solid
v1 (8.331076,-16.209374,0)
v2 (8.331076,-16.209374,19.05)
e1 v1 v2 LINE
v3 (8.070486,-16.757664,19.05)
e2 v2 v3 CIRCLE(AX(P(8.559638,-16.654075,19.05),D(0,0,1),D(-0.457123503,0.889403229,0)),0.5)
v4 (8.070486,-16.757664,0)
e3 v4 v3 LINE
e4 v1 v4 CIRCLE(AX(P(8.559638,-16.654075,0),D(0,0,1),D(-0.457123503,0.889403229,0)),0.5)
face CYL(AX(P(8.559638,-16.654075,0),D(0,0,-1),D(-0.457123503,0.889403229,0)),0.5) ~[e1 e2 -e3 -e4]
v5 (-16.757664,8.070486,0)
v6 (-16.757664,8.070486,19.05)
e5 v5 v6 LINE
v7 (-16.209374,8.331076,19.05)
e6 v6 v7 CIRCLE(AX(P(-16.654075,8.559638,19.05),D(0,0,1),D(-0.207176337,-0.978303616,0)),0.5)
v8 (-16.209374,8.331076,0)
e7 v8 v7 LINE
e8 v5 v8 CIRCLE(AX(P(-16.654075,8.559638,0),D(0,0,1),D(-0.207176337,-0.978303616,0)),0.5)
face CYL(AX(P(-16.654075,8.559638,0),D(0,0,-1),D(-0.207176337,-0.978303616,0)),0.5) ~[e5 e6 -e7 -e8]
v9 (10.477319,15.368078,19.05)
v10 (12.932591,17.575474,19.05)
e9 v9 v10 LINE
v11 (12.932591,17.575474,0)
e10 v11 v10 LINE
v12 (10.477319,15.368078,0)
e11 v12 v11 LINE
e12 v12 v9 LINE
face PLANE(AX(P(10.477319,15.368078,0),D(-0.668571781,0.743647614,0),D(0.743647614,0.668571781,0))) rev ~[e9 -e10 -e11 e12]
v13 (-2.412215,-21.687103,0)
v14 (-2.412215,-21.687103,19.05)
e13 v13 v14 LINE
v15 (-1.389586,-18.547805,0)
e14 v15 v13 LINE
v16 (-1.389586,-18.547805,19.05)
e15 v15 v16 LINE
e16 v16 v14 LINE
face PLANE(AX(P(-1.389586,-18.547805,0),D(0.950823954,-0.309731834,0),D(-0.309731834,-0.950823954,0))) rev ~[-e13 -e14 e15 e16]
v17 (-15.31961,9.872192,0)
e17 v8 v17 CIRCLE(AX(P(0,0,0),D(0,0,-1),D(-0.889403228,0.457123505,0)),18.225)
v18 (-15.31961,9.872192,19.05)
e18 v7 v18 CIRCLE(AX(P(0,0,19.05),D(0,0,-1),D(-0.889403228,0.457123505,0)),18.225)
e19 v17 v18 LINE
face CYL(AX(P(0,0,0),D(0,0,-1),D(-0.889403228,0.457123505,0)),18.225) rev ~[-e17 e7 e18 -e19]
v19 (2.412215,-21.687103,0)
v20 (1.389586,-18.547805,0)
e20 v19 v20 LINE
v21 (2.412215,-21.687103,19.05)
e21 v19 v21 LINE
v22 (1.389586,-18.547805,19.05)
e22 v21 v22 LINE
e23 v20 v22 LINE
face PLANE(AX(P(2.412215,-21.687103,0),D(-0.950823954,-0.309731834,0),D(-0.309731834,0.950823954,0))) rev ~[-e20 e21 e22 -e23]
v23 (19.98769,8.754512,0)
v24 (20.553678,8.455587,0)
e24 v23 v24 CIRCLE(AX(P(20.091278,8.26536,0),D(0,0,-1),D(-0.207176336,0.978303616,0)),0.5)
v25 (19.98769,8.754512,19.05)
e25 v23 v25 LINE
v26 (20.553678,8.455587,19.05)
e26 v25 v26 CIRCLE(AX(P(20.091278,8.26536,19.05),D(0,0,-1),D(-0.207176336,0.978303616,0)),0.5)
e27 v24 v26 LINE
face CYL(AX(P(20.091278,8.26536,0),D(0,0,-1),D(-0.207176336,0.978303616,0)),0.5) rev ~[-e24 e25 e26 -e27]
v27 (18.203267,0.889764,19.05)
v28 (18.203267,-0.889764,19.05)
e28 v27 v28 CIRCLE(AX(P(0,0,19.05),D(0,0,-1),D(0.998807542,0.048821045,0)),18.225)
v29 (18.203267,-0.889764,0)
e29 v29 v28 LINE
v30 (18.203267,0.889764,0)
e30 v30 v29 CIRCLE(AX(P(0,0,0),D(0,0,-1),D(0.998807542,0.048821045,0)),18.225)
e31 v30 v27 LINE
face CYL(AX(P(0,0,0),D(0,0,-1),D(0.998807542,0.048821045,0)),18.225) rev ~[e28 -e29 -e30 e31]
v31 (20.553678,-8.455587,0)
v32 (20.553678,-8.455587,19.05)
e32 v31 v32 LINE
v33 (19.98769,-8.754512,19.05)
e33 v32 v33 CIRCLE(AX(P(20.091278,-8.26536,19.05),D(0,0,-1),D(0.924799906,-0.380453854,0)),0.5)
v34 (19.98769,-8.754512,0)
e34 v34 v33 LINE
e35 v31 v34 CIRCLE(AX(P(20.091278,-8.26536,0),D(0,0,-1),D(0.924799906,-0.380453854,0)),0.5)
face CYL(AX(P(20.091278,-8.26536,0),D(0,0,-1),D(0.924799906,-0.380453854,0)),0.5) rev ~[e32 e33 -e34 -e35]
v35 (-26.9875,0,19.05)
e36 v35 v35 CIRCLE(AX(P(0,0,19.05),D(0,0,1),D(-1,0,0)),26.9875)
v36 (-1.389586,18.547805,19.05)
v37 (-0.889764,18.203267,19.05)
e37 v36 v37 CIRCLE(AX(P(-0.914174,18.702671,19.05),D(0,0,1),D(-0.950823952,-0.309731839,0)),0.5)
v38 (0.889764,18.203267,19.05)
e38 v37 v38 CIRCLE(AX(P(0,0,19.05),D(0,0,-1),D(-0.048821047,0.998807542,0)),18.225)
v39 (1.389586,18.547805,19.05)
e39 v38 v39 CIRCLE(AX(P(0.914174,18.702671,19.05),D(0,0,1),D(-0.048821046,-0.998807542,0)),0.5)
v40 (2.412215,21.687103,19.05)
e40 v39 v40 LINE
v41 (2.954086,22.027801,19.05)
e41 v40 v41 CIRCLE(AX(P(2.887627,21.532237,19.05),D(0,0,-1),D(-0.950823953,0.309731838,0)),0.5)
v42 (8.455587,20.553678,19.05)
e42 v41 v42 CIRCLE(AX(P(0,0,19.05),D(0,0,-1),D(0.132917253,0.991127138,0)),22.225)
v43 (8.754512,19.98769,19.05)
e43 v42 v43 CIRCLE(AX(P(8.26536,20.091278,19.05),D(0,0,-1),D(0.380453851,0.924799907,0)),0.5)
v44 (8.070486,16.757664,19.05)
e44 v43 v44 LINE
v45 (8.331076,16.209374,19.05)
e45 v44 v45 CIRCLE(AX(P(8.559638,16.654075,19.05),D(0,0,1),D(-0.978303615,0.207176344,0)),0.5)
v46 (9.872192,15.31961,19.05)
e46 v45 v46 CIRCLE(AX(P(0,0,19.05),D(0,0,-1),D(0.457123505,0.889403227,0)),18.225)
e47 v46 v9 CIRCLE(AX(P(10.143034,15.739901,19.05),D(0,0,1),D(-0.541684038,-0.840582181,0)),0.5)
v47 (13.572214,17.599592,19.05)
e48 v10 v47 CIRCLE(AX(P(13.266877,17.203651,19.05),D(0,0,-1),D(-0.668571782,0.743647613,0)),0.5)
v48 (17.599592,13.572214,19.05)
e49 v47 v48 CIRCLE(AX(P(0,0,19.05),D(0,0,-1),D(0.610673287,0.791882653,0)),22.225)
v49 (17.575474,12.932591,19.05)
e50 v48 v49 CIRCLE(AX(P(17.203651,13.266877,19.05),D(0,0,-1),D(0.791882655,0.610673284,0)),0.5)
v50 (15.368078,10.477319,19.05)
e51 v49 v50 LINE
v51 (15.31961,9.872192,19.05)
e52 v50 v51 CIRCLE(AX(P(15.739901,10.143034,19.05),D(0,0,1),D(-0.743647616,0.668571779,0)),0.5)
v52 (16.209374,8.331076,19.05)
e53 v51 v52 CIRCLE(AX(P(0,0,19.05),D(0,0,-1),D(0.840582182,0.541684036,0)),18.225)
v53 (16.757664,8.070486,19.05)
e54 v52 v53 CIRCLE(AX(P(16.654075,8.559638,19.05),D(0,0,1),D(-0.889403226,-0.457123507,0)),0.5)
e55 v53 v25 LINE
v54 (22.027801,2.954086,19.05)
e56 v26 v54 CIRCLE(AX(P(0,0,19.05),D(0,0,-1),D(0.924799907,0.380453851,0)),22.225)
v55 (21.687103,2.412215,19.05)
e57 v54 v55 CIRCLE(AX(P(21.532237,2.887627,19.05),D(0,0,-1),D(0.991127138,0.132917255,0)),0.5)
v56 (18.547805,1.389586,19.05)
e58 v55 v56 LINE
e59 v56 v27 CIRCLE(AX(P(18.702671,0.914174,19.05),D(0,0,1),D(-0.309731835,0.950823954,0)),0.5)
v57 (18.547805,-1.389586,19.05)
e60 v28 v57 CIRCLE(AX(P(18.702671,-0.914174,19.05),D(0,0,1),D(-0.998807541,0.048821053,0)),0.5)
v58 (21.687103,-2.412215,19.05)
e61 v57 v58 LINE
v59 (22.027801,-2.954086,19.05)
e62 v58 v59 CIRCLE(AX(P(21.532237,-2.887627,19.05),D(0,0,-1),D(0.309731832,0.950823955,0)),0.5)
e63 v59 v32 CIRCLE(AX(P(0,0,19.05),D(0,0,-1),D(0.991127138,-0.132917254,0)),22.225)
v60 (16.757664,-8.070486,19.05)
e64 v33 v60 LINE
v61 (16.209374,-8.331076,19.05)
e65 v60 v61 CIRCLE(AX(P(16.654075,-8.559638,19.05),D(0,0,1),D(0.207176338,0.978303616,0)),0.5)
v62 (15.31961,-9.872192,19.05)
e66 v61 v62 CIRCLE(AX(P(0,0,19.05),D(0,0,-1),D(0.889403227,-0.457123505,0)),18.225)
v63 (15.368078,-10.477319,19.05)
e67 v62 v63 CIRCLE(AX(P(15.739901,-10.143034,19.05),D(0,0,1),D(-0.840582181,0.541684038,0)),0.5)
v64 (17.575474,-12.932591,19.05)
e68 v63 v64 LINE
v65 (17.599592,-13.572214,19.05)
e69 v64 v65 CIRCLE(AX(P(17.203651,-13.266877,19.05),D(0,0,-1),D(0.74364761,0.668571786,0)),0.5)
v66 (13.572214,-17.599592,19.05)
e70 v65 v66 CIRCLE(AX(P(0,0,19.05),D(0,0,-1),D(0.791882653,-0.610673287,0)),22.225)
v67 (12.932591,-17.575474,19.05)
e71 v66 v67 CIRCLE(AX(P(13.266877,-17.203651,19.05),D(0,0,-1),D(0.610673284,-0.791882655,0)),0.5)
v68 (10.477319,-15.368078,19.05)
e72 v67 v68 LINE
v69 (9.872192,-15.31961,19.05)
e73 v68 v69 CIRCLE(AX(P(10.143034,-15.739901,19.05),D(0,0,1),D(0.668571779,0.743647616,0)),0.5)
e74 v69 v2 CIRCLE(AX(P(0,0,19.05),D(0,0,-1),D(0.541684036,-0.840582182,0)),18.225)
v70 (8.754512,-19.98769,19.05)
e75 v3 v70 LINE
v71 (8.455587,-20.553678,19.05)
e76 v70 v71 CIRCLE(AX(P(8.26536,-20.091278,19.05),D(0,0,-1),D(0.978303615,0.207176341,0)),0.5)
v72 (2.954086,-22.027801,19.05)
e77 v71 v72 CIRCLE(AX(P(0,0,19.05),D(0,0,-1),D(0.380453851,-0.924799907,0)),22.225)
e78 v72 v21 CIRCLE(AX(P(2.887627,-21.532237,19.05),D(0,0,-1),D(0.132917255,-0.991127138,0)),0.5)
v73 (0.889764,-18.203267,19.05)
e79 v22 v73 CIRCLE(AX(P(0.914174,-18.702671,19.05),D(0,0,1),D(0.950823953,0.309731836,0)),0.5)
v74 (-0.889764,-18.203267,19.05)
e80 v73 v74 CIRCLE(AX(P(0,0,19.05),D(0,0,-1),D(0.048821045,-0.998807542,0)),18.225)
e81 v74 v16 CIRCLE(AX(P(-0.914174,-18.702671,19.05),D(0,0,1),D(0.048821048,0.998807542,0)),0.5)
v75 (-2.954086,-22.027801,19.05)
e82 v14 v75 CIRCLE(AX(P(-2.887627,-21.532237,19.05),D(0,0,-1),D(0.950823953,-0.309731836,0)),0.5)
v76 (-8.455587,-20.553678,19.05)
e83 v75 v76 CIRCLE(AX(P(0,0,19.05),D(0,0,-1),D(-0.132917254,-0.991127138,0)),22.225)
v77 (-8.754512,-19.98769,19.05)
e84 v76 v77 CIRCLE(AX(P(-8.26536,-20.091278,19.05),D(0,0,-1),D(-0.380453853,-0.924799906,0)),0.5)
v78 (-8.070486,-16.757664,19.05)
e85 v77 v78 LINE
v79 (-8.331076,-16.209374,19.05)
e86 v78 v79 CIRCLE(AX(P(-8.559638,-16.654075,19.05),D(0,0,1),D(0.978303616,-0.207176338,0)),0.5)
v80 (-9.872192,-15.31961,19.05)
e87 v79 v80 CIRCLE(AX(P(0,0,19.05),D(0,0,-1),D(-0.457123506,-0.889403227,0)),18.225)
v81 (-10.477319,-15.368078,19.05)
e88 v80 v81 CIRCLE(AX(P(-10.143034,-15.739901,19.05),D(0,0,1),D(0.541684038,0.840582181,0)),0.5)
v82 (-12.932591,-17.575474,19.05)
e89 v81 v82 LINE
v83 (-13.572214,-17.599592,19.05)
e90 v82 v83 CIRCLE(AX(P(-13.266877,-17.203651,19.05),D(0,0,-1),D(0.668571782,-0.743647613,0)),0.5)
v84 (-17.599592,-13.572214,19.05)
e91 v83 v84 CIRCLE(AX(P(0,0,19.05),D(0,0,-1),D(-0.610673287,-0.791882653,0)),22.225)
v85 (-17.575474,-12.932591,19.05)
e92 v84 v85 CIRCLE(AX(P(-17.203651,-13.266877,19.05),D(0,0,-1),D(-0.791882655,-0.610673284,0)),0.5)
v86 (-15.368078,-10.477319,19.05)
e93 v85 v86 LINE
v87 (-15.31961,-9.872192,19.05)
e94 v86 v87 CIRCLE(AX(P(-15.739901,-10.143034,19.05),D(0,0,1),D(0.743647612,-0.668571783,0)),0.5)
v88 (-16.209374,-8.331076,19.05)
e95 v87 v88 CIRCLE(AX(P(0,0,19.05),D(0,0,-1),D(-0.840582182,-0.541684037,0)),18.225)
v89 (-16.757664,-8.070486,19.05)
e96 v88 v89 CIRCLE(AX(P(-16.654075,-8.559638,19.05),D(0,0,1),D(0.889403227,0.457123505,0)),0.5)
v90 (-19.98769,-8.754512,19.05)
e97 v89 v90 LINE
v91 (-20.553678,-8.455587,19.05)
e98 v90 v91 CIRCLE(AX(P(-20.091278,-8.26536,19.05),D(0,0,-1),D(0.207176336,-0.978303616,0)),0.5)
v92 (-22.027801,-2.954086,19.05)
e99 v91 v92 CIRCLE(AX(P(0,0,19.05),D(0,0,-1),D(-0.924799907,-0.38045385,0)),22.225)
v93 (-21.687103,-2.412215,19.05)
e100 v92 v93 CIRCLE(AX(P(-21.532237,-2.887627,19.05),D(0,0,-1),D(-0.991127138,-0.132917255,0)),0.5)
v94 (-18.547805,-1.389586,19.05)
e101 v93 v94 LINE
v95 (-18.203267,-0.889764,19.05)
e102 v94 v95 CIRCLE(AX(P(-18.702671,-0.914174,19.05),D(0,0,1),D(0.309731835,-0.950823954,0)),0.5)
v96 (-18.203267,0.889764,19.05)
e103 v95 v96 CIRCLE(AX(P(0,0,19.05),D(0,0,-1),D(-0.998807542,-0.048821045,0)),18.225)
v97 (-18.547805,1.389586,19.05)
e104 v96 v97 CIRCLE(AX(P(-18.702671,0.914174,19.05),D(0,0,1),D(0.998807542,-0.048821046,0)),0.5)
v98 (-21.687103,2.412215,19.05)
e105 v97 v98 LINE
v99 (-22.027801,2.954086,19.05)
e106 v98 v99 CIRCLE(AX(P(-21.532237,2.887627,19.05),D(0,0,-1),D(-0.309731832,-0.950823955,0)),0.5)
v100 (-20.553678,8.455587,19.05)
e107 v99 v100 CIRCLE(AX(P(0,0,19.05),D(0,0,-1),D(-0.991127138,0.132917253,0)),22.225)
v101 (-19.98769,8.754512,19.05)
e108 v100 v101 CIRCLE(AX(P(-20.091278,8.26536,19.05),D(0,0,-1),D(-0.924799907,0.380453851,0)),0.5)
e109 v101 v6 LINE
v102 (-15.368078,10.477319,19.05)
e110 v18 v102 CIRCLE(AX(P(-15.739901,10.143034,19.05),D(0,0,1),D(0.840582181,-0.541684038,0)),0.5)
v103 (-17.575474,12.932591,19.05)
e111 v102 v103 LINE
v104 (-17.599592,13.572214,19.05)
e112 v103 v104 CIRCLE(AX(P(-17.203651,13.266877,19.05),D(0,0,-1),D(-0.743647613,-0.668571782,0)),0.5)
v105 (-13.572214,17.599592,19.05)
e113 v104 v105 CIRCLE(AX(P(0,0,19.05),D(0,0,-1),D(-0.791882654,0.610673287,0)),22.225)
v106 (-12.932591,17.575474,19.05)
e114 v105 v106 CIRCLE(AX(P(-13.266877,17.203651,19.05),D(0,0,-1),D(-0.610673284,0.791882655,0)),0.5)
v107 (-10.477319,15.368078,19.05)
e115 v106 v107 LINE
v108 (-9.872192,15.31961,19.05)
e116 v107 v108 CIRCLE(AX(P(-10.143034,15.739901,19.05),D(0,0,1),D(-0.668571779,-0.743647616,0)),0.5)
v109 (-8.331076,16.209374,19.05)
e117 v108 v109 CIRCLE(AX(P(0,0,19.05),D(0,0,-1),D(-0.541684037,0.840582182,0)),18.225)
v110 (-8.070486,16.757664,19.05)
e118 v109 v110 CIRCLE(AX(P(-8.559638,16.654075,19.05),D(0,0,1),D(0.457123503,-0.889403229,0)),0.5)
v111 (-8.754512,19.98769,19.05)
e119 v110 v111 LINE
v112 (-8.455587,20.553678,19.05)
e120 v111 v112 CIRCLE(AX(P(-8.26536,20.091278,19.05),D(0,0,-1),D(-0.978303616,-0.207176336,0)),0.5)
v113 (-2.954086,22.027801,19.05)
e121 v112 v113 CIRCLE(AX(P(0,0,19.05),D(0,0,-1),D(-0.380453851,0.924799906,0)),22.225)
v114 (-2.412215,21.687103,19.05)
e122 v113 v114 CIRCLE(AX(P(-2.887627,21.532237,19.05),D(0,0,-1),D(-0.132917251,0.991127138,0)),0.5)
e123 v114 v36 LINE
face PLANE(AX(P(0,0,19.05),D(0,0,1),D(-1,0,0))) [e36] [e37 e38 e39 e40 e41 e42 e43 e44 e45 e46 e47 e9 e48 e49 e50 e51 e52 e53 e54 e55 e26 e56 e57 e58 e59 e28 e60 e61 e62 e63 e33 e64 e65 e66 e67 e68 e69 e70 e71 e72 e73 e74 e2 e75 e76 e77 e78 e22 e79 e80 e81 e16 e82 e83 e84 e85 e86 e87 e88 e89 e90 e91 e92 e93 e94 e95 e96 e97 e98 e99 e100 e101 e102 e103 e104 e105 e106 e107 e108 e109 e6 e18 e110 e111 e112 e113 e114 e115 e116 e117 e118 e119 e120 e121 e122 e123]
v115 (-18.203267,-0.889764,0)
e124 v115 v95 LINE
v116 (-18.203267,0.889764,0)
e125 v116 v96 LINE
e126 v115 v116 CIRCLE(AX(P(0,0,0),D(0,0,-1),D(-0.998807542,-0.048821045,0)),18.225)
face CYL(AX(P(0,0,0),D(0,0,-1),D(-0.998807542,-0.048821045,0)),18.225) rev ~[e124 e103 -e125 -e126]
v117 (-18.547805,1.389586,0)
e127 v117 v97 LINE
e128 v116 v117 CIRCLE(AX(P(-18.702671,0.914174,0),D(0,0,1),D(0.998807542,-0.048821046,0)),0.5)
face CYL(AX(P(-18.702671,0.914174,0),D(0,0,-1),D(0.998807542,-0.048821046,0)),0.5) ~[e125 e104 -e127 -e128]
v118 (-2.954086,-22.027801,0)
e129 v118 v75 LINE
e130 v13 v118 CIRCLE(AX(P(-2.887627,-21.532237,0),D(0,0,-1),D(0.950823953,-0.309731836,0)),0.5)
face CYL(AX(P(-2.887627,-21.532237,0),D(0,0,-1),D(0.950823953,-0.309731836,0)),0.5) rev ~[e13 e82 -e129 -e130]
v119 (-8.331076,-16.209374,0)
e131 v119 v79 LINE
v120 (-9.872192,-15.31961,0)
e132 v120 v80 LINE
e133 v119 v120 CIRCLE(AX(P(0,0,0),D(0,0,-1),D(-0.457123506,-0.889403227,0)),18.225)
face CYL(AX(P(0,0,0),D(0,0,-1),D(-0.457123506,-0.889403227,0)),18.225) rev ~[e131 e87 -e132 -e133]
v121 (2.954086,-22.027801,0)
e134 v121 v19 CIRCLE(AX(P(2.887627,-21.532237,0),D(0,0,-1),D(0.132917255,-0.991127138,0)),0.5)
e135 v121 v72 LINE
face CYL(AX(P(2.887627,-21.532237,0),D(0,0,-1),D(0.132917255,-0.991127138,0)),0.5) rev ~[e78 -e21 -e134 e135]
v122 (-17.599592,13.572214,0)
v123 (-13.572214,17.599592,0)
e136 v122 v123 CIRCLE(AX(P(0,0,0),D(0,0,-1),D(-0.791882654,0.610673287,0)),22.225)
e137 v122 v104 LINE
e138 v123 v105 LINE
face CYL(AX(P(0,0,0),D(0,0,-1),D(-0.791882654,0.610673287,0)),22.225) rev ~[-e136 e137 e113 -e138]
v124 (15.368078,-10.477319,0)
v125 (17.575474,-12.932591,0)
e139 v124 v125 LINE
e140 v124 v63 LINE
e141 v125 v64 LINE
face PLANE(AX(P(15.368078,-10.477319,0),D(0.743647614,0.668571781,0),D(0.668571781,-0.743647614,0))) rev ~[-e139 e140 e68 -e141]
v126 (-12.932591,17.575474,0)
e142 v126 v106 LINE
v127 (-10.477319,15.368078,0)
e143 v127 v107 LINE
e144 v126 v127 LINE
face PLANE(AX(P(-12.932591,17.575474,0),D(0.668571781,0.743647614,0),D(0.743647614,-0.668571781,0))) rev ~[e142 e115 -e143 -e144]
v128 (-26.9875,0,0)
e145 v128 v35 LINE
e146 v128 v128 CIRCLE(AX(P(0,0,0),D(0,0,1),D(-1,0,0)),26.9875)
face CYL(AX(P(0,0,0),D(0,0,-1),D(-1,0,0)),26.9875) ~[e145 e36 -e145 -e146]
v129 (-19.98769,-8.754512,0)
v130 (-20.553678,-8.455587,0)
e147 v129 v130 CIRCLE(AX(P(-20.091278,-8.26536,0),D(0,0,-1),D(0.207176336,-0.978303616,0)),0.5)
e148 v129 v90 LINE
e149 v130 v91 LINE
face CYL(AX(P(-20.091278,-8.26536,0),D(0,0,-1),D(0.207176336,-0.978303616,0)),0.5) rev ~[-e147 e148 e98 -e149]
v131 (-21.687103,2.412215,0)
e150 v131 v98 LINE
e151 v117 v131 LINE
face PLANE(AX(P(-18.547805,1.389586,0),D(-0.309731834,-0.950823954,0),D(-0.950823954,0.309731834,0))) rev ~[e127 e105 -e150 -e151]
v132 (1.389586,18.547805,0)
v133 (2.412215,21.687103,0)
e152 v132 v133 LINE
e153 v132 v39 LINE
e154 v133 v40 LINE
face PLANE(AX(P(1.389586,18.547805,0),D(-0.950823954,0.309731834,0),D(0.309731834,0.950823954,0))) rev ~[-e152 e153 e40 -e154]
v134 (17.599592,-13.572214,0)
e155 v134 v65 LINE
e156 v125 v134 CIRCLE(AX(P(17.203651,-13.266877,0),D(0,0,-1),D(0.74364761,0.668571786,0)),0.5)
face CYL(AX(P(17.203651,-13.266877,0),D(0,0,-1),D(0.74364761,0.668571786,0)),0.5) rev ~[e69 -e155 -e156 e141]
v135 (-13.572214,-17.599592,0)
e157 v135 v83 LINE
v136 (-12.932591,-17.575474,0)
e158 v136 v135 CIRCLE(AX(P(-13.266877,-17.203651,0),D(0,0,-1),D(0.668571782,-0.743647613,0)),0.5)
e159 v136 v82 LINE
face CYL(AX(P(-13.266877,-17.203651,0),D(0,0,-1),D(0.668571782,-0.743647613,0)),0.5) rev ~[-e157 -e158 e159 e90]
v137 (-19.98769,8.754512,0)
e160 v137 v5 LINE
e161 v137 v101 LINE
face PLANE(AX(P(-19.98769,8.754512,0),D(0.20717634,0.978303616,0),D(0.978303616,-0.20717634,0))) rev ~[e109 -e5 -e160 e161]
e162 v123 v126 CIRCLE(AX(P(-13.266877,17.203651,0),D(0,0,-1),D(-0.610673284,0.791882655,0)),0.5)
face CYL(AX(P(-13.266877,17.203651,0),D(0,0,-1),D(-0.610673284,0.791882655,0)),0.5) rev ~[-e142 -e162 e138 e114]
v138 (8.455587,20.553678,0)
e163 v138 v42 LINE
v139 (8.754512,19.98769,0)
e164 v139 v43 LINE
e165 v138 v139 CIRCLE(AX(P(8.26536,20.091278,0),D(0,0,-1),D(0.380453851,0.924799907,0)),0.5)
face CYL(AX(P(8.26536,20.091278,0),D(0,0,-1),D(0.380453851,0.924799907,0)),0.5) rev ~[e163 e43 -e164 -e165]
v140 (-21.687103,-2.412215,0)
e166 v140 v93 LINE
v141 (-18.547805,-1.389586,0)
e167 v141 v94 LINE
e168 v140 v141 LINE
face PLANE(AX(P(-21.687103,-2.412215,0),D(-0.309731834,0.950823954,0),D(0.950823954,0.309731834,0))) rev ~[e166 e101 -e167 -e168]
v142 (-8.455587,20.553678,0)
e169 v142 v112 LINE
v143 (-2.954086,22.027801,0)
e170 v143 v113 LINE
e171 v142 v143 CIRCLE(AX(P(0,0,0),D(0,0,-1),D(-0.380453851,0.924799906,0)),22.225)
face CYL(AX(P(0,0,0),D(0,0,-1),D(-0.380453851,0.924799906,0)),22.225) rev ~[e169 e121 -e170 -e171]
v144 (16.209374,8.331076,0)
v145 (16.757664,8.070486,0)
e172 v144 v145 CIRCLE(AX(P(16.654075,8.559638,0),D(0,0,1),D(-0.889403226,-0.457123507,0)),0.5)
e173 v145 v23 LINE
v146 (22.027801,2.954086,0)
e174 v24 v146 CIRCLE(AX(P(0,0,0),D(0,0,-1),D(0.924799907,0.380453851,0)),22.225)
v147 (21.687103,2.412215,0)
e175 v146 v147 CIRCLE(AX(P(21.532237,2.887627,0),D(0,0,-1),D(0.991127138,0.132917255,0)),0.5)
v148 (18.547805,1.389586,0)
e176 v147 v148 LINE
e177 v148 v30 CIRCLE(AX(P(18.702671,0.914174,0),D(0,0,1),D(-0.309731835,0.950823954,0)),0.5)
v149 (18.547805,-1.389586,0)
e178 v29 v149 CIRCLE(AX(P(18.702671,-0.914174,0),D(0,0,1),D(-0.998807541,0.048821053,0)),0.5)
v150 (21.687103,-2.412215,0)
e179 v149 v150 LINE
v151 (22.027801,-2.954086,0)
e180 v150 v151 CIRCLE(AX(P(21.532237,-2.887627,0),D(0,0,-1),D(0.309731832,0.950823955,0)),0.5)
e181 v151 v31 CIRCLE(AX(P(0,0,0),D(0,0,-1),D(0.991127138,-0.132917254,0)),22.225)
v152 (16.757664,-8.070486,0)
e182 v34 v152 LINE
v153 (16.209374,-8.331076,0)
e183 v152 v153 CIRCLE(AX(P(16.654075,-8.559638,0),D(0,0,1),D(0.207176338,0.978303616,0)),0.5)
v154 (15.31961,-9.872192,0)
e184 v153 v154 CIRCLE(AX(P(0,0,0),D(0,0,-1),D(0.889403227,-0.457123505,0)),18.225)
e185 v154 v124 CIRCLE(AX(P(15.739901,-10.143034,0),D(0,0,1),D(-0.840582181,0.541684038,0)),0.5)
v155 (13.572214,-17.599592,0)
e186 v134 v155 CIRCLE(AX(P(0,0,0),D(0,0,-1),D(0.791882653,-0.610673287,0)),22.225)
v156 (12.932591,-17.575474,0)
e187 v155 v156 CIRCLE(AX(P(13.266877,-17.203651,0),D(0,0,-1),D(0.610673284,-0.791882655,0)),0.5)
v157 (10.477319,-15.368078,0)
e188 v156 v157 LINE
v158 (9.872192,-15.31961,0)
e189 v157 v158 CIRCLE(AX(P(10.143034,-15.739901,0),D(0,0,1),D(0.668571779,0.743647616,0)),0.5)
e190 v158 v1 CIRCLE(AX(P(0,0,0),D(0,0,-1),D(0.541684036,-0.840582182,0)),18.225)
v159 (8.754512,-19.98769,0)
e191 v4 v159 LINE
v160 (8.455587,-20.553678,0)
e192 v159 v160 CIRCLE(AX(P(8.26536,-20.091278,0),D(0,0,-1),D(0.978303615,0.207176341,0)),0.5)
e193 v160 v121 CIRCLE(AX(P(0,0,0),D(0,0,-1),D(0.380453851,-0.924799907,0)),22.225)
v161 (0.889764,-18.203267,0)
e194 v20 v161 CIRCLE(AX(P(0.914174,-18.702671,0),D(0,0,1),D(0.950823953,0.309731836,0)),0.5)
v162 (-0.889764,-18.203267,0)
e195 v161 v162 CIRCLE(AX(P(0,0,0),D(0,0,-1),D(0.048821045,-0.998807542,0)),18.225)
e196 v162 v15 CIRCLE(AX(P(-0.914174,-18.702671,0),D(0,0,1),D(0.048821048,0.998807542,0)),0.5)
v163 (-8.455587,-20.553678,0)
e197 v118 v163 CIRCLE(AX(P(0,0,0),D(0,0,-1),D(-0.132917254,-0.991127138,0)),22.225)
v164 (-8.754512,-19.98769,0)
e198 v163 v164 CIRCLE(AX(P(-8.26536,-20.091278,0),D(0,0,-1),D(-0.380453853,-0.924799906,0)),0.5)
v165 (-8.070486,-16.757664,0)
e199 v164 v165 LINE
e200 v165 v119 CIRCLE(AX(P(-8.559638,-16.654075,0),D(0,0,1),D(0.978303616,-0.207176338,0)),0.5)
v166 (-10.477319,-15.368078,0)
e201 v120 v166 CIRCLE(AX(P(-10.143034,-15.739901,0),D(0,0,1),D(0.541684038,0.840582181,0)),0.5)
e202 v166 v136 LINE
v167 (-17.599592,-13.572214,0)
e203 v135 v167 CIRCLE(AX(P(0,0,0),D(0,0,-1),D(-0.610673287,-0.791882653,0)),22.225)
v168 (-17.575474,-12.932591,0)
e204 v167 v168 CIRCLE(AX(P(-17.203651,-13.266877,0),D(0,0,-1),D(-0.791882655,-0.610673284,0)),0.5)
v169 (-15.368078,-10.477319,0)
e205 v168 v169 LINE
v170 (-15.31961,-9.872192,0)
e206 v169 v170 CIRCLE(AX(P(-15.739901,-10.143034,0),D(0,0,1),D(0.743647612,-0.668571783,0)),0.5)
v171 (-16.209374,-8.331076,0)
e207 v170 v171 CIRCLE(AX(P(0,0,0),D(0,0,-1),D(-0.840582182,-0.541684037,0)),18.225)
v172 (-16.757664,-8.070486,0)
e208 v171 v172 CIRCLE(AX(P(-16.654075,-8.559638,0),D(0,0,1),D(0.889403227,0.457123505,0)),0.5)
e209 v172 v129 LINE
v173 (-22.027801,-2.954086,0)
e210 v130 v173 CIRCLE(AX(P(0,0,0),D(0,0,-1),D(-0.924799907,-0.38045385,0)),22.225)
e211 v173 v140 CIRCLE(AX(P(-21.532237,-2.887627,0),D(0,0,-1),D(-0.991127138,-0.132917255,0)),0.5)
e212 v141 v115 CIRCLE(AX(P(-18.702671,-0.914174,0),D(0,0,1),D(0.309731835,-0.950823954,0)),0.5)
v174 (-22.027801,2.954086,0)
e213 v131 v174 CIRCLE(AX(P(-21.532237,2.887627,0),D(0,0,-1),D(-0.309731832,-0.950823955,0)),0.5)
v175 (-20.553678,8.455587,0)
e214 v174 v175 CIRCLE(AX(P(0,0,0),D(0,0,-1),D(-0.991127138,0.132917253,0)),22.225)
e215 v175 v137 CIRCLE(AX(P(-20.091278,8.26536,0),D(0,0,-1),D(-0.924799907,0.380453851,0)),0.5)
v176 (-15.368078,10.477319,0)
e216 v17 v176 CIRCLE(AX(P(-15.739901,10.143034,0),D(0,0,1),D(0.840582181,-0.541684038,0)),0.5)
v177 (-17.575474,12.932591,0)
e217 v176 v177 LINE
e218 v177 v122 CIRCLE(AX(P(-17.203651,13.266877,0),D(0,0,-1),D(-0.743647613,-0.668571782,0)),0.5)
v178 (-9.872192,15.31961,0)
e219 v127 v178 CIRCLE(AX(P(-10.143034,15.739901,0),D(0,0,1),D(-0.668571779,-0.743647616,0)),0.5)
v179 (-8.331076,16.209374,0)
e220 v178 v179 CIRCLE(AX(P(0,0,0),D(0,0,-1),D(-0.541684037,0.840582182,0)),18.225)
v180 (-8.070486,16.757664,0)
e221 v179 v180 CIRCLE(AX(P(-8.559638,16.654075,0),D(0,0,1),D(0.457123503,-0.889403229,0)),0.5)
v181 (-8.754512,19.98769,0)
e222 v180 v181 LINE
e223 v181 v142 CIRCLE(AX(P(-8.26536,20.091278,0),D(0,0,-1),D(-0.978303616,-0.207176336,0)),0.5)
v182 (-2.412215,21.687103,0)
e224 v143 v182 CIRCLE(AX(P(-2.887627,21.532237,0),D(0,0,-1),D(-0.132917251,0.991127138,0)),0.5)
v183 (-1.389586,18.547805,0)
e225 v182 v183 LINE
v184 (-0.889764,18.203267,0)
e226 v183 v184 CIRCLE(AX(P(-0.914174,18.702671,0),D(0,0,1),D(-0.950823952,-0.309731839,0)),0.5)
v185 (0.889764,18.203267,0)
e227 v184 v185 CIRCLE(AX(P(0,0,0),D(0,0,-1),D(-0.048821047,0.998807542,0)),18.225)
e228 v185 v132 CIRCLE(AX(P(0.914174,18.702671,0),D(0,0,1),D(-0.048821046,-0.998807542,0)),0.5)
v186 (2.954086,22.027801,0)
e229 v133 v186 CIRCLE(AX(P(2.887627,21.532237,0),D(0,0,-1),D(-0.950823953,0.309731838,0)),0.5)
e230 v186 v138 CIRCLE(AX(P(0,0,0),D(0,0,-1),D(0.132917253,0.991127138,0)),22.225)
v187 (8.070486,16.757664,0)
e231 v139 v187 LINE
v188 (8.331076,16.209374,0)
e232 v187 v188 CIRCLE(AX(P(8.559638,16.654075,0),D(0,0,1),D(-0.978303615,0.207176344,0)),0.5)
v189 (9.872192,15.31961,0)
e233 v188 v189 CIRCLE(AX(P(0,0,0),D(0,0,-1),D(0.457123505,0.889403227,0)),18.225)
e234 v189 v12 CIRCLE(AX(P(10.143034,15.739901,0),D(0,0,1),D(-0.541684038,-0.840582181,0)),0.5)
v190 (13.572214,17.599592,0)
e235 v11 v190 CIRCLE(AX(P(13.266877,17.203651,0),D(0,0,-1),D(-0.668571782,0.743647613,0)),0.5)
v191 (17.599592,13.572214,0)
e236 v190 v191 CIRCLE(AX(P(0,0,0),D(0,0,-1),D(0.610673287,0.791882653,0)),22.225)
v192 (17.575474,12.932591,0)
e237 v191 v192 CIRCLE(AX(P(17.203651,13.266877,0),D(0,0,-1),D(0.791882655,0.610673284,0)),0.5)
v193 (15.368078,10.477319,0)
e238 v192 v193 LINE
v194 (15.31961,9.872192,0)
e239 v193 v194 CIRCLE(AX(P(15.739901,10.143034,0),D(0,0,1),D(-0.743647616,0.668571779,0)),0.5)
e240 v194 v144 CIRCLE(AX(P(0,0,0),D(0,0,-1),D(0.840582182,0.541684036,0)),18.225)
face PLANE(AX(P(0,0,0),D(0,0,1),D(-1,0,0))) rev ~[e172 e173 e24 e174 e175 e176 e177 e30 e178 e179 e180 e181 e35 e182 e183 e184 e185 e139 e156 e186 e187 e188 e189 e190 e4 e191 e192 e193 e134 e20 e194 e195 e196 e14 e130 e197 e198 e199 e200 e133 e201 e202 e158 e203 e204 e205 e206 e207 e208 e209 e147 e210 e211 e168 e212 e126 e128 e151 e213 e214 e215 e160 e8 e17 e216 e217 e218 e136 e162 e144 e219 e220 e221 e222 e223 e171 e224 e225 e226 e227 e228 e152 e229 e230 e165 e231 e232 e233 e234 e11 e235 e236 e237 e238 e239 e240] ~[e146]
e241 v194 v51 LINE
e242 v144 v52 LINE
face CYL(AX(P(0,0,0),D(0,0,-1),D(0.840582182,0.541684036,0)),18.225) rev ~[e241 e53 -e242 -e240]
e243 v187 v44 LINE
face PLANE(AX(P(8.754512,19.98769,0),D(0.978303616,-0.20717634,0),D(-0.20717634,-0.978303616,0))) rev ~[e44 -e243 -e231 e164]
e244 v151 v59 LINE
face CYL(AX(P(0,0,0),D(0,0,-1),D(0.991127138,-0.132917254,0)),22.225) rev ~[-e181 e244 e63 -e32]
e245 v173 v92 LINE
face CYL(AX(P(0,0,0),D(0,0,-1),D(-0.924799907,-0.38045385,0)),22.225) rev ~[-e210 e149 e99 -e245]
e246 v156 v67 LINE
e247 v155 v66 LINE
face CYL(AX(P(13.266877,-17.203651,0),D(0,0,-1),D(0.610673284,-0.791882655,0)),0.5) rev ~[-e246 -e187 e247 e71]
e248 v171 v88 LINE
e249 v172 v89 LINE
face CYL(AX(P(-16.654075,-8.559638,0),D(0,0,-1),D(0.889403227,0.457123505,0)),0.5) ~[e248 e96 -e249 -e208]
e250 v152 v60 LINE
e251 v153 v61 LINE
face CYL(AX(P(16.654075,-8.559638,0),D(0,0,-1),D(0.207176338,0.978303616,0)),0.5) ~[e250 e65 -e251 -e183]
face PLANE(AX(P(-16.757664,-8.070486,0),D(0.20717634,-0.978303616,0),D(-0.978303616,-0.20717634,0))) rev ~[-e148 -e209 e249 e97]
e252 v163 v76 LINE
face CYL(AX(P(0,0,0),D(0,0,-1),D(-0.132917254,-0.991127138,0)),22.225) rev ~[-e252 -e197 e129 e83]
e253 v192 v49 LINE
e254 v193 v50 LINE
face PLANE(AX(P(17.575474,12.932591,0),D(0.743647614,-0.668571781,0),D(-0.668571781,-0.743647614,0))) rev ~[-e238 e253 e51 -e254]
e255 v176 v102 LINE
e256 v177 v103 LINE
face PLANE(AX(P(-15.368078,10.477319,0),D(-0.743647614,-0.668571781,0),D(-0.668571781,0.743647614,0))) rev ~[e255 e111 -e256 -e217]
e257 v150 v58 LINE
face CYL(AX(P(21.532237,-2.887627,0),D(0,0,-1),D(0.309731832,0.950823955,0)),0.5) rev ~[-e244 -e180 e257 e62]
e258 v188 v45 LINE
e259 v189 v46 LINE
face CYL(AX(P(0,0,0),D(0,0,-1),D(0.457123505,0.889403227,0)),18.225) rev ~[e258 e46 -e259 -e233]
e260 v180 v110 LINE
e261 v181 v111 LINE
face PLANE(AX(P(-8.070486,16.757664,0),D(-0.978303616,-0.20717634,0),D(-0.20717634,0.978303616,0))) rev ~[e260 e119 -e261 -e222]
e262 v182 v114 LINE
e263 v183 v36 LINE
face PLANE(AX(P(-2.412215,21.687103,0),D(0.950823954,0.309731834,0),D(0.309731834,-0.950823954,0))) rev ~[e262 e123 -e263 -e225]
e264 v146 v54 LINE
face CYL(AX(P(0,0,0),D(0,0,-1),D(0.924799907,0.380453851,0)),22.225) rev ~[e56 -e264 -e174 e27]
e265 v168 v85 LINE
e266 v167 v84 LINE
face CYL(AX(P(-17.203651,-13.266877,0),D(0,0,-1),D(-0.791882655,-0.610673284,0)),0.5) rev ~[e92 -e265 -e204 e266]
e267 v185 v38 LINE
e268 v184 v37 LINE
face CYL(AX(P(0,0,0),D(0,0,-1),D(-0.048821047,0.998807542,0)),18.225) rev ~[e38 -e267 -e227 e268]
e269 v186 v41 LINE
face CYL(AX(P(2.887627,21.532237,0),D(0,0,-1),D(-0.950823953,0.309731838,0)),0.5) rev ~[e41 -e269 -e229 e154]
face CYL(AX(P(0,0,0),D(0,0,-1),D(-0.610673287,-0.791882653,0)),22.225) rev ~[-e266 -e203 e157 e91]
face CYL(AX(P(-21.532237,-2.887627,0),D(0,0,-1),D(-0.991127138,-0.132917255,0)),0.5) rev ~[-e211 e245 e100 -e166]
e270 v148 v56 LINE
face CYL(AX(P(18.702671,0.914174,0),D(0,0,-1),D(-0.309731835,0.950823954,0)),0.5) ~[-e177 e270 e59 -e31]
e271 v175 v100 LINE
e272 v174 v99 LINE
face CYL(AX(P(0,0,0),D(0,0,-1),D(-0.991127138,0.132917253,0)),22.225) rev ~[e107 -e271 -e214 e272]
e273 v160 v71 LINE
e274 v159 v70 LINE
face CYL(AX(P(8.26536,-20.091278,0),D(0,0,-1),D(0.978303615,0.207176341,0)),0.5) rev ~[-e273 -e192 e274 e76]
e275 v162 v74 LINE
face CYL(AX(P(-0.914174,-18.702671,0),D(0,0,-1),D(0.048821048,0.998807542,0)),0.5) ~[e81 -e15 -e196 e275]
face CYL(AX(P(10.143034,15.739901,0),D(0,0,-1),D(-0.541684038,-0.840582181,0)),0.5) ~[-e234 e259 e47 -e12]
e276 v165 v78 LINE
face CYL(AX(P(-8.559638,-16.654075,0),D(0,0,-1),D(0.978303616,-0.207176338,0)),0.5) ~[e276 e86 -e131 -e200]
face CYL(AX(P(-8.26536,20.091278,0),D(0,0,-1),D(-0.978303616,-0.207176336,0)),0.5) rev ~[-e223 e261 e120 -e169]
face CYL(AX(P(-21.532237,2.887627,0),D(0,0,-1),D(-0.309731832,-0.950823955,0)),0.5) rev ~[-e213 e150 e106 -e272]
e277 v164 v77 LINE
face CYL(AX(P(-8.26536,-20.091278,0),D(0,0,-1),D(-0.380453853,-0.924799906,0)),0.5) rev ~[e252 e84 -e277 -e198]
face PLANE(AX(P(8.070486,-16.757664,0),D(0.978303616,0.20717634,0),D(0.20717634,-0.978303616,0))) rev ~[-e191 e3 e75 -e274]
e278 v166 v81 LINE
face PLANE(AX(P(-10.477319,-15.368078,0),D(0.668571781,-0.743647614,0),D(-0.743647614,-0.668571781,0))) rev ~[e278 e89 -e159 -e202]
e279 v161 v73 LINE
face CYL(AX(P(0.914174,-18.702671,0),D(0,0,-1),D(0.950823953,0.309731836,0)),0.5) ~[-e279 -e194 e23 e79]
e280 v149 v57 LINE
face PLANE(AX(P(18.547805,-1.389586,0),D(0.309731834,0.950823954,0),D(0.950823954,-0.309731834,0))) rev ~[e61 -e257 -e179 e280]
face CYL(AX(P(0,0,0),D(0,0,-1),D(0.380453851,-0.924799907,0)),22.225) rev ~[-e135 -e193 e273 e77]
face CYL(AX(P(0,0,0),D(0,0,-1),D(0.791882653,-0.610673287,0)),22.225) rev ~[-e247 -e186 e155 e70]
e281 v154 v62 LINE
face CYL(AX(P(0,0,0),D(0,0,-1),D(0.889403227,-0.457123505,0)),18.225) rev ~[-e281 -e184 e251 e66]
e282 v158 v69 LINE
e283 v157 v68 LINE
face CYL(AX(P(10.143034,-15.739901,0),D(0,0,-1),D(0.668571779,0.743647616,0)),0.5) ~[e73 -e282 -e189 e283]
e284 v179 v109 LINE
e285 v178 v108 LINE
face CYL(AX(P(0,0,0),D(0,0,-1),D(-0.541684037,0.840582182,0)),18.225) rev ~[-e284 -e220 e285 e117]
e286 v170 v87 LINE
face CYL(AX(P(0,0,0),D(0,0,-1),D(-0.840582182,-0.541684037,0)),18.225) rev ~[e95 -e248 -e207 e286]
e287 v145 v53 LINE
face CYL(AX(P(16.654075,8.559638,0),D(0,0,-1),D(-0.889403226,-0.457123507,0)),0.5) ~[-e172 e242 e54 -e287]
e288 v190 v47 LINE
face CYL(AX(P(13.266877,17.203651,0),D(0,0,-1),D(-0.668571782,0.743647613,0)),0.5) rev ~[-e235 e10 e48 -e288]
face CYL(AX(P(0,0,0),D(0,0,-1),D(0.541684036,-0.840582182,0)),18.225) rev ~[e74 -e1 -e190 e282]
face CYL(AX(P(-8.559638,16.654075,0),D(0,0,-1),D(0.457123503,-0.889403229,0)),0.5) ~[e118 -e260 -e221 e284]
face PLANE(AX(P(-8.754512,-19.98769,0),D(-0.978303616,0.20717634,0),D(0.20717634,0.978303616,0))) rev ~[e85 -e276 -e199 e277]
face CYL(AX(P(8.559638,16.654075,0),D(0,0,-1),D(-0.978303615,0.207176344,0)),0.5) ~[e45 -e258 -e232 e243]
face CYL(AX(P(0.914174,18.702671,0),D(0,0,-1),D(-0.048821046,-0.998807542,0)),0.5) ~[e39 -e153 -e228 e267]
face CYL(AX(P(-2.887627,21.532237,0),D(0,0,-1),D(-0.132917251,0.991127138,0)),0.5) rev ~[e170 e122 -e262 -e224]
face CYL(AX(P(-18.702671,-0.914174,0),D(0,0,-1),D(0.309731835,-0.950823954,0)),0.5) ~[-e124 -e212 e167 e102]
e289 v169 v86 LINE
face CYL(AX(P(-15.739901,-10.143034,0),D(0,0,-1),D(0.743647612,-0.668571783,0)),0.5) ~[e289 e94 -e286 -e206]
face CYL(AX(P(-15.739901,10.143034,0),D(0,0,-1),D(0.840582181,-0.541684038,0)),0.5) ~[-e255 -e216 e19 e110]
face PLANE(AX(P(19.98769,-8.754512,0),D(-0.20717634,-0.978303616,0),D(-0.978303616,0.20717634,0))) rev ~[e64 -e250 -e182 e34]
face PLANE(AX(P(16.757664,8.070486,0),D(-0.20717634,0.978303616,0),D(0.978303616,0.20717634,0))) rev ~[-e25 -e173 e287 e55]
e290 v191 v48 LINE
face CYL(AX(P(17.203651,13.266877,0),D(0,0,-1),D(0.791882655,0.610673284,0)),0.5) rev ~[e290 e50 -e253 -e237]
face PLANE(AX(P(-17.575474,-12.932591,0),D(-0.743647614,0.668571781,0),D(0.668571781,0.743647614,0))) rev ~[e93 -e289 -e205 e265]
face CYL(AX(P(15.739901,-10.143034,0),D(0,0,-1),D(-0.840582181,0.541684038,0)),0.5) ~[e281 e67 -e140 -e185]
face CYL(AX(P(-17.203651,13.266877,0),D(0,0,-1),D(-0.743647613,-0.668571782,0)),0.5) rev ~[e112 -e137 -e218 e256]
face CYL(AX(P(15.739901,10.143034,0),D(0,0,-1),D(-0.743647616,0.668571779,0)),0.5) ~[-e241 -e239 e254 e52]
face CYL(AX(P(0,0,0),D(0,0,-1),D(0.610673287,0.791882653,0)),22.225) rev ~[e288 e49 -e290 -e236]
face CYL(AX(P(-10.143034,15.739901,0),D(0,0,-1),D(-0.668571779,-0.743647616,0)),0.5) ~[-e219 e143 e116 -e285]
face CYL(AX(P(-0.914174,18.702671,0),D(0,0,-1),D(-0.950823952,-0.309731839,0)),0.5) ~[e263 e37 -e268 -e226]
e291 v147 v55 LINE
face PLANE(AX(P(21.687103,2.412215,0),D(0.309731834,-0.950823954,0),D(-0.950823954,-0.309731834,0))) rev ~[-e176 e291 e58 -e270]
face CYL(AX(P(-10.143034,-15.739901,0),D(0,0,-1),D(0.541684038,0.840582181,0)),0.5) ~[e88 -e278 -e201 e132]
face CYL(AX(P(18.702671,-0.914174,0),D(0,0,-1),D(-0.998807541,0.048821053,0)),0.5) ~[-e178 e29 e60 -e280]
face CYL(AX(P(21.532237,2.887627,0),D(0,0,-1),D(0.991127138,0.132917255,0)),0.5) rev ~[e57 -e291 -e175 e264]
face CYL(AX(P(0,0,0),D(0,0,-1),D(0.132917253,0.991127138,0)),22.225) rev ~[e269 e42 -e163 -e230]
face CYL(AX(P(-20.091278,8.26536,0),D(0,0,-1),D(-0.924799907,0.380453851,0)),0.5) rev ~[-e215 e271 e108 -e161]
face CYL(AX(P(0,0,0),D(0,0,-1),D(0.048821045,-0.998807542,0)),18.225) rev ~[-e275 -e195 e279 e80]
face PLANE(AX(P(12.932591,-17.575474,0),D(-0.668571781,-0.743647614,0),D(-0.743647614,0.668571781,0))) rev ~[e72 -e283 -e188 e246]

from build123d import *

# Parameters (mm, degrees)
MODEL_R             = 26.9875
BOSS_EXTRUDE1_DEPTH = 19.05


with BuildPart() as part:
    # Model → Boss-Extrude1 (new body)
    with BuildSketch(Plane.XY):
        with Locations(Location((0, 0, 0), (0, 0, 180))):
            Circle(MODEL_R)
        with BuildLine():
            Line((-8.070485832, 16.757663602), (-8.754511726, 19.987689799))
            ThreePointArc((-8.754511726, 19.987689799), (-8.707484905, 20.324784918), (-8.455586843, 20.553677922))
            ThreePointArc((-8.455586843, 20.553677922), (-5.752253282, 21.467701488), (-2.95408596, 22.027800642))
            ThreePointArc((-2.95408596, 22.027800642), (-2.621489336, 21.955522516), (-2.412215355, 21.687102989))
            Line((-2.412215355, 21.687102989), (-1.38958606, 18.5478053))
            ThreePointArc((-1.38958606, 18.5478053), (-1.197947162, 18.291000428), (-0.889763559, 18.203267447))
            ThreePointArc((-0.889763559, 18.203267447), (-4e-09, 18.224999999), (0.88976355, 18.203267448))
            ThreePointArc((0.88976355, 18.203267448), (1.197947153, 18.291000429), (1.38958605, 18.547805301))
            Line((1.38958605, 18.547805301), (2.412215346, 21.68710299))
            ThreePointArc((2.412215346, 21.68710299), (2.621489327, 21.955522516), (2.954085951, 22.027800641))
            ThreePointArc((2.954085951, 22.027800641), (5.752253273, 21.467701488), (8.455586835, 20.553677923))
            ThreePointArc((8.455586835, 20.553677923), (8.707484897, 20.324784919), (8.754511717, 19.9876898))
            Line((8.754511717, 19.9876898), (8.070485823, 16.757663603))
            ThreePointArc((8.070485823, 16.757663603), (8.108047539, 16.439444611), (8.331075878, 16.209373819))
            ThreePointArc((8.331075878, 16.209373819), (9.112499995, 15.783312983), (9.872191562, 15.319610264))
            ThreePointArc((9.872191562, 15.319610264), (10.182952881, 15.241497453), (10.47731947, 15.368077548))
            Line((10.47731947, 15.368077548), (12.932591265, 17.575474446))
            ThreePointArc((12.932591265, 17.575474446), (13.248037611, 17.703295585), (13.572213798, 17.599591967))
            ThreePointArc((13.572213798, 17.599591967), (15.715448207, 15.71544821), (17.599591964, 13.572213802))
            ThreePointArc((17.599591964, 13.572213802), (17.703295582, 13.248037614), (17.575474443, 12.932591268))
            Line((17.575474443, 12.932591268), (15.368077544, 10.477319473))
            ThreePointArc((15.368077544, 10.477319473), (15.24149745, 10.182952884), (15.319610261, 9.872191565))
            ThreePointArc((15.319610261, 9.872191565), (15.78331298, 9.112499998), (16.209373816, 8.331075881))
            ThreePointArc((16.209373816, 8.331075881), (16.439444608, 8.108047543), (16.7576636, 8.070485826))
            Line((16.7576636, 8.070485826), (19.987689797, 8.75451172))
            ThreePointArc((19.987689797, 8.75451172), (20.324784916, 8.707484899), (20.55367792, 8.455586837))
            ThreePointArc((20.55367792, 8.455586837), (21.467701485, 5.752253275), (22.027800638, 2.954085954))
            ThreePointArc((22.027800638, 2.954085954), (21.955522513, 2.62148933), (21.687102986, 2.412215349))
            Line((21.687102986, 2.412215349), (18.547805297, 1.389586053))
            ThreePointArc((18.547805297, 1.389586053), (18.291000425, 1.197947156), (18.203267445, 0.889763553))
            ThreePointArc((18.203267445, 0.889763553), (18.224999996, -2e-09), (18.203267445, -0.889763556))
            ThreePointArc((18.203267445, -0.889763556), (18.291000425, -1.19794716), (18.547805298, -1.389586057))
            Line((18.547805298, -1.389586057), (21.687102987, -2.412215353))
            ThreePointArc((21.687102987, -2.412215353), (21.955522514, -2.621489333), (22.027800639, -2.954085957))
            ThreePointArc((22.027800639, -2.954085957), (21.467701485, -5.752253279), (20.55367792, -8.455586841))
            ThreePointArc((20.55367792, -8.455586841), (20.324784915, -8.707484903), (19.987689796, -8.754511723))
            Line((19.987689796, -8.754511723), (16.757663599, -8.070485829))
            ThreePointArc((16.757663599, -8.070485829), (16.439444608, -8.108047546), (16.209373816, -8.331075885))
            ThreePointArc((16.209373816, -8.331075885), (15.78331298, -9.112500002), (15.319610261, -9.872191568))
            ThreePointArc((15.319610261, -9.872191568), (15.24149745, -10.182952888), (15.368077545, -10.477319476))
            Line((15.368077545, -10.477319476), (17.575474443, -12.932591272))
            ThreePointArc((17.575474443, -12.932591272), (17.703295583, -13.248037618), (17.599591965, -13.572213805))
            ThreePointArc((17.599591965, -13.572213805), (15.715448207, -15.715448213), (13.572213799, -17.59959197))
            ThreePointArc((13.572213799, -17.59959197), (13.248037611, -17.703295588), (12.932591265, -17.575474449))
            Line((12.932591265, -17.575474449), (10.47731947, -15.368077551))
            ThreePointArc((10.47731947, -15.368077551), (10.182952881, -15.241497457), (9.872191562, -15.319610268))
            ThreePointArc((9.872191562, -15.319610268), (9.112499996, -15.783312986), (8.331075878, -16.209373822))
            ThreePointArc((8.331075878, -16.209373822), (8.108047539, -16.439444614), (8.070485823, -16.757663607))
            Line((8.070485823, -16.757663607), (8.754511717, -19.987689803))
            ThreePointArc((8.754511717, -19.987689803), (8.707484897, -20.324784922), (8.455586834, -20.553677926))
            ThreePointArc((8.455586834, -20.553677926), (5.752253273, -21.467701491), (2.954085951, -22.027800644))
            ThreePointArc((2.954085951, -22.027800644), (2.621489325, -21.955522517), (2.412215346, -21.687102985))
            Line((2.412215346, -21.687102985), (1.38958605, -18.547805297))
            ThreePointArc((1.38958605, -18.547805297), (1.197947153, -18.291000425), (0.889763549, -18.203267444))
            ThreePointArc((0.889763549, -18.203267444), (-4e-09, -18.224999995), (-0.889763558, -18.203267444))
            ThreePointArc((-0.889763558, -18.203267444), (-1.197947162, -18.291000425), (-1.389586059, -18.547805297))
            Line((-1.389586059, -18.547805297), (-2.412215354, -21.687102986))
            ThreePointArc((-2.412215354, -21.687102986), (-2.621489335, -21.955522513), (-2.954085959, -22.027800639))
            ThreePointArc((-2.954085959, -22.027800639), (-5.75225328, -21.467701485), (-8.455586841, -20.55367792))
            ThreePointArc((-8.455586841, -20.55367792), (-8.707484903, -20.324784915), (-8.754511723, -19.987689797))
            Line((-8.754511723, -19.987689797), (-8.070485829, -16.7576636))
            ThreePointArc((-8.070485829, -16.7576636), (-8.108047546, -16.439444608), (-8.331075884, -16.209373816))
            ThreePointArc((-8.331075884, -16.209373816), (-9.112500001, -15.78331298), (-9.872191567, -15.319610262))
            ThreePointArc((-9.872191567, -15.319610262), (-10.182952886, -15.241497451), (-10.477319475, -15.368077546))
            Line((-10.477319475, -15.368077546), (-12.93259127, -17.575474444))
            ThreePointArc((-12.93259127, -17.575474444), (-13.248037616, -17.703295583), (-13.572213803, -17.599591965))
            ThreePointArc((-13.572213803, -17.599591965), (-15.715448211, -15.715448209), (-17.599591967, -13.572213801))
            ThreePointArc((-17.599591967, -13.572213801), (-17.703295585, -13.248037614), (-17.575474446, -12.932591267))
            Line((-17.575474446, -12.932591267), (-15.368077548, -10.477319472))
            ThreePointArc((-15.368077548, -10.477319472), (-15.241497453, -10.182952883), (-15.319610265, -9.872191564))
            ThreePointArc((-15.319610265, -9.872191564), (-15.783312983, -9.112499999), (-16.209373818, -8.331075882))
            ThreePointArc((-16.209373818, -8.331075882), (-16.439444611, -8.108047543), (-16.757663603, -8.070485827))
            Line((-16.757663603, -8.070485827), (-19.9876898, -8.754511721))
            ThreePointArc((-19.9876898, -8.754511721), (-20.324784919, -8.7074849), (-20.553677923, -8.455586838))
            ThreePointArc((-20.553677923, -8.455586838), (-21.467701487, -5.752253277), (-22.027800641, -2.954085957))
            ThreePointArc((-22.027800641, -2.954085957), (-21.955522516, -2.621489333), (-21.687102989, -2.412215352))
            Line((-21.687102989, -2.412215352), (-18.5478053, -1.389586056))
            ThreePointArc((-18.5478053, -1.389586056), (-18.291000428, -1.197947159), (-18.203267448, -0.889763556))
            ThreePointArc((-18.203267448, -0.889763556), (-18.224999999, -2e-09), (-18.203267448, 0.889763552))
            ThreePointArc((-18.203267448, 0.889763552), (-18.291000429, 1.197947155), (-18.547805301, 1.389586052))
            Line((-18.547805301, 1.389586052), (-21.68710299, 2.412215348))
            ThreePointArc((-21.68710299, 2.412215348), (-21.955522518, 2.621489329), (-22.027800643, 2.954085953))
            ThreePointArc((-22.027800643, 2.954085953), (-21.46770149, 5.752253274), (-20.553677925, 8.455586836))
            ThreePointArc((-20.553677925, 8.455586836), (-20.324784921, 8.707484898), (-19.987689802, 8.754511718))
            Line((-19.987689802, 8.754511718), (-16.757663605, 8.070485824))
            ThreePointArc((-16.757663605, 8.070485824), (-16.439444614, 8.108047541), (-16.209373822, 8.331075879))
            ThreePointArc((-16.209373822, 8.331075879), (-15.783312986, 9.112499997), (-15.319610268, 9.872191563))
            ThreePointArc((-15.319610268, 9.872191563), (-15.241497457, 10.182952882), (-15.368077552, 10.477319471))
            Line((-15.368077552, 10.477319471), (-17.57547445, 12.932591266))
            ThreePointArc((-17.57547445, 12.932591266), (-17.703295589, 13.248037612), (-17.599591971, 13.572213799))
            ThreePointArc((-17.599591971, 13.572213799), (-15.715448215, 15.715448208), (-13.572213807, 17.599591965))
            ThreePointArc((-13.572213807, 17.599591965), (-13.24803762, 17.703295583), (-12.932591273, 17.575474444))
            Line((-12.932591273, 17.575474444), (-10.477319478, 15.368077546))
            ThreePointArc((-10.477319478, 15.368077546), (-10.182952889, 15.241497452), (-9.87219157, 15.319610263))
            ThreePointArc((-9.87219157, 15.319610263), (-9.112500004, 15.783312982), (-8.331075887, 16.209373818))
            ThreePointArc((-8.331075887, 16.209373818), (-8.108047548, 16.43944461), (-8.070485832, 16.757663602))
        make_face(mode=Mode.SUBTRACT)
    extrude(amount=BOSS_EXTRUDE1_DEPTH)


solid = part.part
